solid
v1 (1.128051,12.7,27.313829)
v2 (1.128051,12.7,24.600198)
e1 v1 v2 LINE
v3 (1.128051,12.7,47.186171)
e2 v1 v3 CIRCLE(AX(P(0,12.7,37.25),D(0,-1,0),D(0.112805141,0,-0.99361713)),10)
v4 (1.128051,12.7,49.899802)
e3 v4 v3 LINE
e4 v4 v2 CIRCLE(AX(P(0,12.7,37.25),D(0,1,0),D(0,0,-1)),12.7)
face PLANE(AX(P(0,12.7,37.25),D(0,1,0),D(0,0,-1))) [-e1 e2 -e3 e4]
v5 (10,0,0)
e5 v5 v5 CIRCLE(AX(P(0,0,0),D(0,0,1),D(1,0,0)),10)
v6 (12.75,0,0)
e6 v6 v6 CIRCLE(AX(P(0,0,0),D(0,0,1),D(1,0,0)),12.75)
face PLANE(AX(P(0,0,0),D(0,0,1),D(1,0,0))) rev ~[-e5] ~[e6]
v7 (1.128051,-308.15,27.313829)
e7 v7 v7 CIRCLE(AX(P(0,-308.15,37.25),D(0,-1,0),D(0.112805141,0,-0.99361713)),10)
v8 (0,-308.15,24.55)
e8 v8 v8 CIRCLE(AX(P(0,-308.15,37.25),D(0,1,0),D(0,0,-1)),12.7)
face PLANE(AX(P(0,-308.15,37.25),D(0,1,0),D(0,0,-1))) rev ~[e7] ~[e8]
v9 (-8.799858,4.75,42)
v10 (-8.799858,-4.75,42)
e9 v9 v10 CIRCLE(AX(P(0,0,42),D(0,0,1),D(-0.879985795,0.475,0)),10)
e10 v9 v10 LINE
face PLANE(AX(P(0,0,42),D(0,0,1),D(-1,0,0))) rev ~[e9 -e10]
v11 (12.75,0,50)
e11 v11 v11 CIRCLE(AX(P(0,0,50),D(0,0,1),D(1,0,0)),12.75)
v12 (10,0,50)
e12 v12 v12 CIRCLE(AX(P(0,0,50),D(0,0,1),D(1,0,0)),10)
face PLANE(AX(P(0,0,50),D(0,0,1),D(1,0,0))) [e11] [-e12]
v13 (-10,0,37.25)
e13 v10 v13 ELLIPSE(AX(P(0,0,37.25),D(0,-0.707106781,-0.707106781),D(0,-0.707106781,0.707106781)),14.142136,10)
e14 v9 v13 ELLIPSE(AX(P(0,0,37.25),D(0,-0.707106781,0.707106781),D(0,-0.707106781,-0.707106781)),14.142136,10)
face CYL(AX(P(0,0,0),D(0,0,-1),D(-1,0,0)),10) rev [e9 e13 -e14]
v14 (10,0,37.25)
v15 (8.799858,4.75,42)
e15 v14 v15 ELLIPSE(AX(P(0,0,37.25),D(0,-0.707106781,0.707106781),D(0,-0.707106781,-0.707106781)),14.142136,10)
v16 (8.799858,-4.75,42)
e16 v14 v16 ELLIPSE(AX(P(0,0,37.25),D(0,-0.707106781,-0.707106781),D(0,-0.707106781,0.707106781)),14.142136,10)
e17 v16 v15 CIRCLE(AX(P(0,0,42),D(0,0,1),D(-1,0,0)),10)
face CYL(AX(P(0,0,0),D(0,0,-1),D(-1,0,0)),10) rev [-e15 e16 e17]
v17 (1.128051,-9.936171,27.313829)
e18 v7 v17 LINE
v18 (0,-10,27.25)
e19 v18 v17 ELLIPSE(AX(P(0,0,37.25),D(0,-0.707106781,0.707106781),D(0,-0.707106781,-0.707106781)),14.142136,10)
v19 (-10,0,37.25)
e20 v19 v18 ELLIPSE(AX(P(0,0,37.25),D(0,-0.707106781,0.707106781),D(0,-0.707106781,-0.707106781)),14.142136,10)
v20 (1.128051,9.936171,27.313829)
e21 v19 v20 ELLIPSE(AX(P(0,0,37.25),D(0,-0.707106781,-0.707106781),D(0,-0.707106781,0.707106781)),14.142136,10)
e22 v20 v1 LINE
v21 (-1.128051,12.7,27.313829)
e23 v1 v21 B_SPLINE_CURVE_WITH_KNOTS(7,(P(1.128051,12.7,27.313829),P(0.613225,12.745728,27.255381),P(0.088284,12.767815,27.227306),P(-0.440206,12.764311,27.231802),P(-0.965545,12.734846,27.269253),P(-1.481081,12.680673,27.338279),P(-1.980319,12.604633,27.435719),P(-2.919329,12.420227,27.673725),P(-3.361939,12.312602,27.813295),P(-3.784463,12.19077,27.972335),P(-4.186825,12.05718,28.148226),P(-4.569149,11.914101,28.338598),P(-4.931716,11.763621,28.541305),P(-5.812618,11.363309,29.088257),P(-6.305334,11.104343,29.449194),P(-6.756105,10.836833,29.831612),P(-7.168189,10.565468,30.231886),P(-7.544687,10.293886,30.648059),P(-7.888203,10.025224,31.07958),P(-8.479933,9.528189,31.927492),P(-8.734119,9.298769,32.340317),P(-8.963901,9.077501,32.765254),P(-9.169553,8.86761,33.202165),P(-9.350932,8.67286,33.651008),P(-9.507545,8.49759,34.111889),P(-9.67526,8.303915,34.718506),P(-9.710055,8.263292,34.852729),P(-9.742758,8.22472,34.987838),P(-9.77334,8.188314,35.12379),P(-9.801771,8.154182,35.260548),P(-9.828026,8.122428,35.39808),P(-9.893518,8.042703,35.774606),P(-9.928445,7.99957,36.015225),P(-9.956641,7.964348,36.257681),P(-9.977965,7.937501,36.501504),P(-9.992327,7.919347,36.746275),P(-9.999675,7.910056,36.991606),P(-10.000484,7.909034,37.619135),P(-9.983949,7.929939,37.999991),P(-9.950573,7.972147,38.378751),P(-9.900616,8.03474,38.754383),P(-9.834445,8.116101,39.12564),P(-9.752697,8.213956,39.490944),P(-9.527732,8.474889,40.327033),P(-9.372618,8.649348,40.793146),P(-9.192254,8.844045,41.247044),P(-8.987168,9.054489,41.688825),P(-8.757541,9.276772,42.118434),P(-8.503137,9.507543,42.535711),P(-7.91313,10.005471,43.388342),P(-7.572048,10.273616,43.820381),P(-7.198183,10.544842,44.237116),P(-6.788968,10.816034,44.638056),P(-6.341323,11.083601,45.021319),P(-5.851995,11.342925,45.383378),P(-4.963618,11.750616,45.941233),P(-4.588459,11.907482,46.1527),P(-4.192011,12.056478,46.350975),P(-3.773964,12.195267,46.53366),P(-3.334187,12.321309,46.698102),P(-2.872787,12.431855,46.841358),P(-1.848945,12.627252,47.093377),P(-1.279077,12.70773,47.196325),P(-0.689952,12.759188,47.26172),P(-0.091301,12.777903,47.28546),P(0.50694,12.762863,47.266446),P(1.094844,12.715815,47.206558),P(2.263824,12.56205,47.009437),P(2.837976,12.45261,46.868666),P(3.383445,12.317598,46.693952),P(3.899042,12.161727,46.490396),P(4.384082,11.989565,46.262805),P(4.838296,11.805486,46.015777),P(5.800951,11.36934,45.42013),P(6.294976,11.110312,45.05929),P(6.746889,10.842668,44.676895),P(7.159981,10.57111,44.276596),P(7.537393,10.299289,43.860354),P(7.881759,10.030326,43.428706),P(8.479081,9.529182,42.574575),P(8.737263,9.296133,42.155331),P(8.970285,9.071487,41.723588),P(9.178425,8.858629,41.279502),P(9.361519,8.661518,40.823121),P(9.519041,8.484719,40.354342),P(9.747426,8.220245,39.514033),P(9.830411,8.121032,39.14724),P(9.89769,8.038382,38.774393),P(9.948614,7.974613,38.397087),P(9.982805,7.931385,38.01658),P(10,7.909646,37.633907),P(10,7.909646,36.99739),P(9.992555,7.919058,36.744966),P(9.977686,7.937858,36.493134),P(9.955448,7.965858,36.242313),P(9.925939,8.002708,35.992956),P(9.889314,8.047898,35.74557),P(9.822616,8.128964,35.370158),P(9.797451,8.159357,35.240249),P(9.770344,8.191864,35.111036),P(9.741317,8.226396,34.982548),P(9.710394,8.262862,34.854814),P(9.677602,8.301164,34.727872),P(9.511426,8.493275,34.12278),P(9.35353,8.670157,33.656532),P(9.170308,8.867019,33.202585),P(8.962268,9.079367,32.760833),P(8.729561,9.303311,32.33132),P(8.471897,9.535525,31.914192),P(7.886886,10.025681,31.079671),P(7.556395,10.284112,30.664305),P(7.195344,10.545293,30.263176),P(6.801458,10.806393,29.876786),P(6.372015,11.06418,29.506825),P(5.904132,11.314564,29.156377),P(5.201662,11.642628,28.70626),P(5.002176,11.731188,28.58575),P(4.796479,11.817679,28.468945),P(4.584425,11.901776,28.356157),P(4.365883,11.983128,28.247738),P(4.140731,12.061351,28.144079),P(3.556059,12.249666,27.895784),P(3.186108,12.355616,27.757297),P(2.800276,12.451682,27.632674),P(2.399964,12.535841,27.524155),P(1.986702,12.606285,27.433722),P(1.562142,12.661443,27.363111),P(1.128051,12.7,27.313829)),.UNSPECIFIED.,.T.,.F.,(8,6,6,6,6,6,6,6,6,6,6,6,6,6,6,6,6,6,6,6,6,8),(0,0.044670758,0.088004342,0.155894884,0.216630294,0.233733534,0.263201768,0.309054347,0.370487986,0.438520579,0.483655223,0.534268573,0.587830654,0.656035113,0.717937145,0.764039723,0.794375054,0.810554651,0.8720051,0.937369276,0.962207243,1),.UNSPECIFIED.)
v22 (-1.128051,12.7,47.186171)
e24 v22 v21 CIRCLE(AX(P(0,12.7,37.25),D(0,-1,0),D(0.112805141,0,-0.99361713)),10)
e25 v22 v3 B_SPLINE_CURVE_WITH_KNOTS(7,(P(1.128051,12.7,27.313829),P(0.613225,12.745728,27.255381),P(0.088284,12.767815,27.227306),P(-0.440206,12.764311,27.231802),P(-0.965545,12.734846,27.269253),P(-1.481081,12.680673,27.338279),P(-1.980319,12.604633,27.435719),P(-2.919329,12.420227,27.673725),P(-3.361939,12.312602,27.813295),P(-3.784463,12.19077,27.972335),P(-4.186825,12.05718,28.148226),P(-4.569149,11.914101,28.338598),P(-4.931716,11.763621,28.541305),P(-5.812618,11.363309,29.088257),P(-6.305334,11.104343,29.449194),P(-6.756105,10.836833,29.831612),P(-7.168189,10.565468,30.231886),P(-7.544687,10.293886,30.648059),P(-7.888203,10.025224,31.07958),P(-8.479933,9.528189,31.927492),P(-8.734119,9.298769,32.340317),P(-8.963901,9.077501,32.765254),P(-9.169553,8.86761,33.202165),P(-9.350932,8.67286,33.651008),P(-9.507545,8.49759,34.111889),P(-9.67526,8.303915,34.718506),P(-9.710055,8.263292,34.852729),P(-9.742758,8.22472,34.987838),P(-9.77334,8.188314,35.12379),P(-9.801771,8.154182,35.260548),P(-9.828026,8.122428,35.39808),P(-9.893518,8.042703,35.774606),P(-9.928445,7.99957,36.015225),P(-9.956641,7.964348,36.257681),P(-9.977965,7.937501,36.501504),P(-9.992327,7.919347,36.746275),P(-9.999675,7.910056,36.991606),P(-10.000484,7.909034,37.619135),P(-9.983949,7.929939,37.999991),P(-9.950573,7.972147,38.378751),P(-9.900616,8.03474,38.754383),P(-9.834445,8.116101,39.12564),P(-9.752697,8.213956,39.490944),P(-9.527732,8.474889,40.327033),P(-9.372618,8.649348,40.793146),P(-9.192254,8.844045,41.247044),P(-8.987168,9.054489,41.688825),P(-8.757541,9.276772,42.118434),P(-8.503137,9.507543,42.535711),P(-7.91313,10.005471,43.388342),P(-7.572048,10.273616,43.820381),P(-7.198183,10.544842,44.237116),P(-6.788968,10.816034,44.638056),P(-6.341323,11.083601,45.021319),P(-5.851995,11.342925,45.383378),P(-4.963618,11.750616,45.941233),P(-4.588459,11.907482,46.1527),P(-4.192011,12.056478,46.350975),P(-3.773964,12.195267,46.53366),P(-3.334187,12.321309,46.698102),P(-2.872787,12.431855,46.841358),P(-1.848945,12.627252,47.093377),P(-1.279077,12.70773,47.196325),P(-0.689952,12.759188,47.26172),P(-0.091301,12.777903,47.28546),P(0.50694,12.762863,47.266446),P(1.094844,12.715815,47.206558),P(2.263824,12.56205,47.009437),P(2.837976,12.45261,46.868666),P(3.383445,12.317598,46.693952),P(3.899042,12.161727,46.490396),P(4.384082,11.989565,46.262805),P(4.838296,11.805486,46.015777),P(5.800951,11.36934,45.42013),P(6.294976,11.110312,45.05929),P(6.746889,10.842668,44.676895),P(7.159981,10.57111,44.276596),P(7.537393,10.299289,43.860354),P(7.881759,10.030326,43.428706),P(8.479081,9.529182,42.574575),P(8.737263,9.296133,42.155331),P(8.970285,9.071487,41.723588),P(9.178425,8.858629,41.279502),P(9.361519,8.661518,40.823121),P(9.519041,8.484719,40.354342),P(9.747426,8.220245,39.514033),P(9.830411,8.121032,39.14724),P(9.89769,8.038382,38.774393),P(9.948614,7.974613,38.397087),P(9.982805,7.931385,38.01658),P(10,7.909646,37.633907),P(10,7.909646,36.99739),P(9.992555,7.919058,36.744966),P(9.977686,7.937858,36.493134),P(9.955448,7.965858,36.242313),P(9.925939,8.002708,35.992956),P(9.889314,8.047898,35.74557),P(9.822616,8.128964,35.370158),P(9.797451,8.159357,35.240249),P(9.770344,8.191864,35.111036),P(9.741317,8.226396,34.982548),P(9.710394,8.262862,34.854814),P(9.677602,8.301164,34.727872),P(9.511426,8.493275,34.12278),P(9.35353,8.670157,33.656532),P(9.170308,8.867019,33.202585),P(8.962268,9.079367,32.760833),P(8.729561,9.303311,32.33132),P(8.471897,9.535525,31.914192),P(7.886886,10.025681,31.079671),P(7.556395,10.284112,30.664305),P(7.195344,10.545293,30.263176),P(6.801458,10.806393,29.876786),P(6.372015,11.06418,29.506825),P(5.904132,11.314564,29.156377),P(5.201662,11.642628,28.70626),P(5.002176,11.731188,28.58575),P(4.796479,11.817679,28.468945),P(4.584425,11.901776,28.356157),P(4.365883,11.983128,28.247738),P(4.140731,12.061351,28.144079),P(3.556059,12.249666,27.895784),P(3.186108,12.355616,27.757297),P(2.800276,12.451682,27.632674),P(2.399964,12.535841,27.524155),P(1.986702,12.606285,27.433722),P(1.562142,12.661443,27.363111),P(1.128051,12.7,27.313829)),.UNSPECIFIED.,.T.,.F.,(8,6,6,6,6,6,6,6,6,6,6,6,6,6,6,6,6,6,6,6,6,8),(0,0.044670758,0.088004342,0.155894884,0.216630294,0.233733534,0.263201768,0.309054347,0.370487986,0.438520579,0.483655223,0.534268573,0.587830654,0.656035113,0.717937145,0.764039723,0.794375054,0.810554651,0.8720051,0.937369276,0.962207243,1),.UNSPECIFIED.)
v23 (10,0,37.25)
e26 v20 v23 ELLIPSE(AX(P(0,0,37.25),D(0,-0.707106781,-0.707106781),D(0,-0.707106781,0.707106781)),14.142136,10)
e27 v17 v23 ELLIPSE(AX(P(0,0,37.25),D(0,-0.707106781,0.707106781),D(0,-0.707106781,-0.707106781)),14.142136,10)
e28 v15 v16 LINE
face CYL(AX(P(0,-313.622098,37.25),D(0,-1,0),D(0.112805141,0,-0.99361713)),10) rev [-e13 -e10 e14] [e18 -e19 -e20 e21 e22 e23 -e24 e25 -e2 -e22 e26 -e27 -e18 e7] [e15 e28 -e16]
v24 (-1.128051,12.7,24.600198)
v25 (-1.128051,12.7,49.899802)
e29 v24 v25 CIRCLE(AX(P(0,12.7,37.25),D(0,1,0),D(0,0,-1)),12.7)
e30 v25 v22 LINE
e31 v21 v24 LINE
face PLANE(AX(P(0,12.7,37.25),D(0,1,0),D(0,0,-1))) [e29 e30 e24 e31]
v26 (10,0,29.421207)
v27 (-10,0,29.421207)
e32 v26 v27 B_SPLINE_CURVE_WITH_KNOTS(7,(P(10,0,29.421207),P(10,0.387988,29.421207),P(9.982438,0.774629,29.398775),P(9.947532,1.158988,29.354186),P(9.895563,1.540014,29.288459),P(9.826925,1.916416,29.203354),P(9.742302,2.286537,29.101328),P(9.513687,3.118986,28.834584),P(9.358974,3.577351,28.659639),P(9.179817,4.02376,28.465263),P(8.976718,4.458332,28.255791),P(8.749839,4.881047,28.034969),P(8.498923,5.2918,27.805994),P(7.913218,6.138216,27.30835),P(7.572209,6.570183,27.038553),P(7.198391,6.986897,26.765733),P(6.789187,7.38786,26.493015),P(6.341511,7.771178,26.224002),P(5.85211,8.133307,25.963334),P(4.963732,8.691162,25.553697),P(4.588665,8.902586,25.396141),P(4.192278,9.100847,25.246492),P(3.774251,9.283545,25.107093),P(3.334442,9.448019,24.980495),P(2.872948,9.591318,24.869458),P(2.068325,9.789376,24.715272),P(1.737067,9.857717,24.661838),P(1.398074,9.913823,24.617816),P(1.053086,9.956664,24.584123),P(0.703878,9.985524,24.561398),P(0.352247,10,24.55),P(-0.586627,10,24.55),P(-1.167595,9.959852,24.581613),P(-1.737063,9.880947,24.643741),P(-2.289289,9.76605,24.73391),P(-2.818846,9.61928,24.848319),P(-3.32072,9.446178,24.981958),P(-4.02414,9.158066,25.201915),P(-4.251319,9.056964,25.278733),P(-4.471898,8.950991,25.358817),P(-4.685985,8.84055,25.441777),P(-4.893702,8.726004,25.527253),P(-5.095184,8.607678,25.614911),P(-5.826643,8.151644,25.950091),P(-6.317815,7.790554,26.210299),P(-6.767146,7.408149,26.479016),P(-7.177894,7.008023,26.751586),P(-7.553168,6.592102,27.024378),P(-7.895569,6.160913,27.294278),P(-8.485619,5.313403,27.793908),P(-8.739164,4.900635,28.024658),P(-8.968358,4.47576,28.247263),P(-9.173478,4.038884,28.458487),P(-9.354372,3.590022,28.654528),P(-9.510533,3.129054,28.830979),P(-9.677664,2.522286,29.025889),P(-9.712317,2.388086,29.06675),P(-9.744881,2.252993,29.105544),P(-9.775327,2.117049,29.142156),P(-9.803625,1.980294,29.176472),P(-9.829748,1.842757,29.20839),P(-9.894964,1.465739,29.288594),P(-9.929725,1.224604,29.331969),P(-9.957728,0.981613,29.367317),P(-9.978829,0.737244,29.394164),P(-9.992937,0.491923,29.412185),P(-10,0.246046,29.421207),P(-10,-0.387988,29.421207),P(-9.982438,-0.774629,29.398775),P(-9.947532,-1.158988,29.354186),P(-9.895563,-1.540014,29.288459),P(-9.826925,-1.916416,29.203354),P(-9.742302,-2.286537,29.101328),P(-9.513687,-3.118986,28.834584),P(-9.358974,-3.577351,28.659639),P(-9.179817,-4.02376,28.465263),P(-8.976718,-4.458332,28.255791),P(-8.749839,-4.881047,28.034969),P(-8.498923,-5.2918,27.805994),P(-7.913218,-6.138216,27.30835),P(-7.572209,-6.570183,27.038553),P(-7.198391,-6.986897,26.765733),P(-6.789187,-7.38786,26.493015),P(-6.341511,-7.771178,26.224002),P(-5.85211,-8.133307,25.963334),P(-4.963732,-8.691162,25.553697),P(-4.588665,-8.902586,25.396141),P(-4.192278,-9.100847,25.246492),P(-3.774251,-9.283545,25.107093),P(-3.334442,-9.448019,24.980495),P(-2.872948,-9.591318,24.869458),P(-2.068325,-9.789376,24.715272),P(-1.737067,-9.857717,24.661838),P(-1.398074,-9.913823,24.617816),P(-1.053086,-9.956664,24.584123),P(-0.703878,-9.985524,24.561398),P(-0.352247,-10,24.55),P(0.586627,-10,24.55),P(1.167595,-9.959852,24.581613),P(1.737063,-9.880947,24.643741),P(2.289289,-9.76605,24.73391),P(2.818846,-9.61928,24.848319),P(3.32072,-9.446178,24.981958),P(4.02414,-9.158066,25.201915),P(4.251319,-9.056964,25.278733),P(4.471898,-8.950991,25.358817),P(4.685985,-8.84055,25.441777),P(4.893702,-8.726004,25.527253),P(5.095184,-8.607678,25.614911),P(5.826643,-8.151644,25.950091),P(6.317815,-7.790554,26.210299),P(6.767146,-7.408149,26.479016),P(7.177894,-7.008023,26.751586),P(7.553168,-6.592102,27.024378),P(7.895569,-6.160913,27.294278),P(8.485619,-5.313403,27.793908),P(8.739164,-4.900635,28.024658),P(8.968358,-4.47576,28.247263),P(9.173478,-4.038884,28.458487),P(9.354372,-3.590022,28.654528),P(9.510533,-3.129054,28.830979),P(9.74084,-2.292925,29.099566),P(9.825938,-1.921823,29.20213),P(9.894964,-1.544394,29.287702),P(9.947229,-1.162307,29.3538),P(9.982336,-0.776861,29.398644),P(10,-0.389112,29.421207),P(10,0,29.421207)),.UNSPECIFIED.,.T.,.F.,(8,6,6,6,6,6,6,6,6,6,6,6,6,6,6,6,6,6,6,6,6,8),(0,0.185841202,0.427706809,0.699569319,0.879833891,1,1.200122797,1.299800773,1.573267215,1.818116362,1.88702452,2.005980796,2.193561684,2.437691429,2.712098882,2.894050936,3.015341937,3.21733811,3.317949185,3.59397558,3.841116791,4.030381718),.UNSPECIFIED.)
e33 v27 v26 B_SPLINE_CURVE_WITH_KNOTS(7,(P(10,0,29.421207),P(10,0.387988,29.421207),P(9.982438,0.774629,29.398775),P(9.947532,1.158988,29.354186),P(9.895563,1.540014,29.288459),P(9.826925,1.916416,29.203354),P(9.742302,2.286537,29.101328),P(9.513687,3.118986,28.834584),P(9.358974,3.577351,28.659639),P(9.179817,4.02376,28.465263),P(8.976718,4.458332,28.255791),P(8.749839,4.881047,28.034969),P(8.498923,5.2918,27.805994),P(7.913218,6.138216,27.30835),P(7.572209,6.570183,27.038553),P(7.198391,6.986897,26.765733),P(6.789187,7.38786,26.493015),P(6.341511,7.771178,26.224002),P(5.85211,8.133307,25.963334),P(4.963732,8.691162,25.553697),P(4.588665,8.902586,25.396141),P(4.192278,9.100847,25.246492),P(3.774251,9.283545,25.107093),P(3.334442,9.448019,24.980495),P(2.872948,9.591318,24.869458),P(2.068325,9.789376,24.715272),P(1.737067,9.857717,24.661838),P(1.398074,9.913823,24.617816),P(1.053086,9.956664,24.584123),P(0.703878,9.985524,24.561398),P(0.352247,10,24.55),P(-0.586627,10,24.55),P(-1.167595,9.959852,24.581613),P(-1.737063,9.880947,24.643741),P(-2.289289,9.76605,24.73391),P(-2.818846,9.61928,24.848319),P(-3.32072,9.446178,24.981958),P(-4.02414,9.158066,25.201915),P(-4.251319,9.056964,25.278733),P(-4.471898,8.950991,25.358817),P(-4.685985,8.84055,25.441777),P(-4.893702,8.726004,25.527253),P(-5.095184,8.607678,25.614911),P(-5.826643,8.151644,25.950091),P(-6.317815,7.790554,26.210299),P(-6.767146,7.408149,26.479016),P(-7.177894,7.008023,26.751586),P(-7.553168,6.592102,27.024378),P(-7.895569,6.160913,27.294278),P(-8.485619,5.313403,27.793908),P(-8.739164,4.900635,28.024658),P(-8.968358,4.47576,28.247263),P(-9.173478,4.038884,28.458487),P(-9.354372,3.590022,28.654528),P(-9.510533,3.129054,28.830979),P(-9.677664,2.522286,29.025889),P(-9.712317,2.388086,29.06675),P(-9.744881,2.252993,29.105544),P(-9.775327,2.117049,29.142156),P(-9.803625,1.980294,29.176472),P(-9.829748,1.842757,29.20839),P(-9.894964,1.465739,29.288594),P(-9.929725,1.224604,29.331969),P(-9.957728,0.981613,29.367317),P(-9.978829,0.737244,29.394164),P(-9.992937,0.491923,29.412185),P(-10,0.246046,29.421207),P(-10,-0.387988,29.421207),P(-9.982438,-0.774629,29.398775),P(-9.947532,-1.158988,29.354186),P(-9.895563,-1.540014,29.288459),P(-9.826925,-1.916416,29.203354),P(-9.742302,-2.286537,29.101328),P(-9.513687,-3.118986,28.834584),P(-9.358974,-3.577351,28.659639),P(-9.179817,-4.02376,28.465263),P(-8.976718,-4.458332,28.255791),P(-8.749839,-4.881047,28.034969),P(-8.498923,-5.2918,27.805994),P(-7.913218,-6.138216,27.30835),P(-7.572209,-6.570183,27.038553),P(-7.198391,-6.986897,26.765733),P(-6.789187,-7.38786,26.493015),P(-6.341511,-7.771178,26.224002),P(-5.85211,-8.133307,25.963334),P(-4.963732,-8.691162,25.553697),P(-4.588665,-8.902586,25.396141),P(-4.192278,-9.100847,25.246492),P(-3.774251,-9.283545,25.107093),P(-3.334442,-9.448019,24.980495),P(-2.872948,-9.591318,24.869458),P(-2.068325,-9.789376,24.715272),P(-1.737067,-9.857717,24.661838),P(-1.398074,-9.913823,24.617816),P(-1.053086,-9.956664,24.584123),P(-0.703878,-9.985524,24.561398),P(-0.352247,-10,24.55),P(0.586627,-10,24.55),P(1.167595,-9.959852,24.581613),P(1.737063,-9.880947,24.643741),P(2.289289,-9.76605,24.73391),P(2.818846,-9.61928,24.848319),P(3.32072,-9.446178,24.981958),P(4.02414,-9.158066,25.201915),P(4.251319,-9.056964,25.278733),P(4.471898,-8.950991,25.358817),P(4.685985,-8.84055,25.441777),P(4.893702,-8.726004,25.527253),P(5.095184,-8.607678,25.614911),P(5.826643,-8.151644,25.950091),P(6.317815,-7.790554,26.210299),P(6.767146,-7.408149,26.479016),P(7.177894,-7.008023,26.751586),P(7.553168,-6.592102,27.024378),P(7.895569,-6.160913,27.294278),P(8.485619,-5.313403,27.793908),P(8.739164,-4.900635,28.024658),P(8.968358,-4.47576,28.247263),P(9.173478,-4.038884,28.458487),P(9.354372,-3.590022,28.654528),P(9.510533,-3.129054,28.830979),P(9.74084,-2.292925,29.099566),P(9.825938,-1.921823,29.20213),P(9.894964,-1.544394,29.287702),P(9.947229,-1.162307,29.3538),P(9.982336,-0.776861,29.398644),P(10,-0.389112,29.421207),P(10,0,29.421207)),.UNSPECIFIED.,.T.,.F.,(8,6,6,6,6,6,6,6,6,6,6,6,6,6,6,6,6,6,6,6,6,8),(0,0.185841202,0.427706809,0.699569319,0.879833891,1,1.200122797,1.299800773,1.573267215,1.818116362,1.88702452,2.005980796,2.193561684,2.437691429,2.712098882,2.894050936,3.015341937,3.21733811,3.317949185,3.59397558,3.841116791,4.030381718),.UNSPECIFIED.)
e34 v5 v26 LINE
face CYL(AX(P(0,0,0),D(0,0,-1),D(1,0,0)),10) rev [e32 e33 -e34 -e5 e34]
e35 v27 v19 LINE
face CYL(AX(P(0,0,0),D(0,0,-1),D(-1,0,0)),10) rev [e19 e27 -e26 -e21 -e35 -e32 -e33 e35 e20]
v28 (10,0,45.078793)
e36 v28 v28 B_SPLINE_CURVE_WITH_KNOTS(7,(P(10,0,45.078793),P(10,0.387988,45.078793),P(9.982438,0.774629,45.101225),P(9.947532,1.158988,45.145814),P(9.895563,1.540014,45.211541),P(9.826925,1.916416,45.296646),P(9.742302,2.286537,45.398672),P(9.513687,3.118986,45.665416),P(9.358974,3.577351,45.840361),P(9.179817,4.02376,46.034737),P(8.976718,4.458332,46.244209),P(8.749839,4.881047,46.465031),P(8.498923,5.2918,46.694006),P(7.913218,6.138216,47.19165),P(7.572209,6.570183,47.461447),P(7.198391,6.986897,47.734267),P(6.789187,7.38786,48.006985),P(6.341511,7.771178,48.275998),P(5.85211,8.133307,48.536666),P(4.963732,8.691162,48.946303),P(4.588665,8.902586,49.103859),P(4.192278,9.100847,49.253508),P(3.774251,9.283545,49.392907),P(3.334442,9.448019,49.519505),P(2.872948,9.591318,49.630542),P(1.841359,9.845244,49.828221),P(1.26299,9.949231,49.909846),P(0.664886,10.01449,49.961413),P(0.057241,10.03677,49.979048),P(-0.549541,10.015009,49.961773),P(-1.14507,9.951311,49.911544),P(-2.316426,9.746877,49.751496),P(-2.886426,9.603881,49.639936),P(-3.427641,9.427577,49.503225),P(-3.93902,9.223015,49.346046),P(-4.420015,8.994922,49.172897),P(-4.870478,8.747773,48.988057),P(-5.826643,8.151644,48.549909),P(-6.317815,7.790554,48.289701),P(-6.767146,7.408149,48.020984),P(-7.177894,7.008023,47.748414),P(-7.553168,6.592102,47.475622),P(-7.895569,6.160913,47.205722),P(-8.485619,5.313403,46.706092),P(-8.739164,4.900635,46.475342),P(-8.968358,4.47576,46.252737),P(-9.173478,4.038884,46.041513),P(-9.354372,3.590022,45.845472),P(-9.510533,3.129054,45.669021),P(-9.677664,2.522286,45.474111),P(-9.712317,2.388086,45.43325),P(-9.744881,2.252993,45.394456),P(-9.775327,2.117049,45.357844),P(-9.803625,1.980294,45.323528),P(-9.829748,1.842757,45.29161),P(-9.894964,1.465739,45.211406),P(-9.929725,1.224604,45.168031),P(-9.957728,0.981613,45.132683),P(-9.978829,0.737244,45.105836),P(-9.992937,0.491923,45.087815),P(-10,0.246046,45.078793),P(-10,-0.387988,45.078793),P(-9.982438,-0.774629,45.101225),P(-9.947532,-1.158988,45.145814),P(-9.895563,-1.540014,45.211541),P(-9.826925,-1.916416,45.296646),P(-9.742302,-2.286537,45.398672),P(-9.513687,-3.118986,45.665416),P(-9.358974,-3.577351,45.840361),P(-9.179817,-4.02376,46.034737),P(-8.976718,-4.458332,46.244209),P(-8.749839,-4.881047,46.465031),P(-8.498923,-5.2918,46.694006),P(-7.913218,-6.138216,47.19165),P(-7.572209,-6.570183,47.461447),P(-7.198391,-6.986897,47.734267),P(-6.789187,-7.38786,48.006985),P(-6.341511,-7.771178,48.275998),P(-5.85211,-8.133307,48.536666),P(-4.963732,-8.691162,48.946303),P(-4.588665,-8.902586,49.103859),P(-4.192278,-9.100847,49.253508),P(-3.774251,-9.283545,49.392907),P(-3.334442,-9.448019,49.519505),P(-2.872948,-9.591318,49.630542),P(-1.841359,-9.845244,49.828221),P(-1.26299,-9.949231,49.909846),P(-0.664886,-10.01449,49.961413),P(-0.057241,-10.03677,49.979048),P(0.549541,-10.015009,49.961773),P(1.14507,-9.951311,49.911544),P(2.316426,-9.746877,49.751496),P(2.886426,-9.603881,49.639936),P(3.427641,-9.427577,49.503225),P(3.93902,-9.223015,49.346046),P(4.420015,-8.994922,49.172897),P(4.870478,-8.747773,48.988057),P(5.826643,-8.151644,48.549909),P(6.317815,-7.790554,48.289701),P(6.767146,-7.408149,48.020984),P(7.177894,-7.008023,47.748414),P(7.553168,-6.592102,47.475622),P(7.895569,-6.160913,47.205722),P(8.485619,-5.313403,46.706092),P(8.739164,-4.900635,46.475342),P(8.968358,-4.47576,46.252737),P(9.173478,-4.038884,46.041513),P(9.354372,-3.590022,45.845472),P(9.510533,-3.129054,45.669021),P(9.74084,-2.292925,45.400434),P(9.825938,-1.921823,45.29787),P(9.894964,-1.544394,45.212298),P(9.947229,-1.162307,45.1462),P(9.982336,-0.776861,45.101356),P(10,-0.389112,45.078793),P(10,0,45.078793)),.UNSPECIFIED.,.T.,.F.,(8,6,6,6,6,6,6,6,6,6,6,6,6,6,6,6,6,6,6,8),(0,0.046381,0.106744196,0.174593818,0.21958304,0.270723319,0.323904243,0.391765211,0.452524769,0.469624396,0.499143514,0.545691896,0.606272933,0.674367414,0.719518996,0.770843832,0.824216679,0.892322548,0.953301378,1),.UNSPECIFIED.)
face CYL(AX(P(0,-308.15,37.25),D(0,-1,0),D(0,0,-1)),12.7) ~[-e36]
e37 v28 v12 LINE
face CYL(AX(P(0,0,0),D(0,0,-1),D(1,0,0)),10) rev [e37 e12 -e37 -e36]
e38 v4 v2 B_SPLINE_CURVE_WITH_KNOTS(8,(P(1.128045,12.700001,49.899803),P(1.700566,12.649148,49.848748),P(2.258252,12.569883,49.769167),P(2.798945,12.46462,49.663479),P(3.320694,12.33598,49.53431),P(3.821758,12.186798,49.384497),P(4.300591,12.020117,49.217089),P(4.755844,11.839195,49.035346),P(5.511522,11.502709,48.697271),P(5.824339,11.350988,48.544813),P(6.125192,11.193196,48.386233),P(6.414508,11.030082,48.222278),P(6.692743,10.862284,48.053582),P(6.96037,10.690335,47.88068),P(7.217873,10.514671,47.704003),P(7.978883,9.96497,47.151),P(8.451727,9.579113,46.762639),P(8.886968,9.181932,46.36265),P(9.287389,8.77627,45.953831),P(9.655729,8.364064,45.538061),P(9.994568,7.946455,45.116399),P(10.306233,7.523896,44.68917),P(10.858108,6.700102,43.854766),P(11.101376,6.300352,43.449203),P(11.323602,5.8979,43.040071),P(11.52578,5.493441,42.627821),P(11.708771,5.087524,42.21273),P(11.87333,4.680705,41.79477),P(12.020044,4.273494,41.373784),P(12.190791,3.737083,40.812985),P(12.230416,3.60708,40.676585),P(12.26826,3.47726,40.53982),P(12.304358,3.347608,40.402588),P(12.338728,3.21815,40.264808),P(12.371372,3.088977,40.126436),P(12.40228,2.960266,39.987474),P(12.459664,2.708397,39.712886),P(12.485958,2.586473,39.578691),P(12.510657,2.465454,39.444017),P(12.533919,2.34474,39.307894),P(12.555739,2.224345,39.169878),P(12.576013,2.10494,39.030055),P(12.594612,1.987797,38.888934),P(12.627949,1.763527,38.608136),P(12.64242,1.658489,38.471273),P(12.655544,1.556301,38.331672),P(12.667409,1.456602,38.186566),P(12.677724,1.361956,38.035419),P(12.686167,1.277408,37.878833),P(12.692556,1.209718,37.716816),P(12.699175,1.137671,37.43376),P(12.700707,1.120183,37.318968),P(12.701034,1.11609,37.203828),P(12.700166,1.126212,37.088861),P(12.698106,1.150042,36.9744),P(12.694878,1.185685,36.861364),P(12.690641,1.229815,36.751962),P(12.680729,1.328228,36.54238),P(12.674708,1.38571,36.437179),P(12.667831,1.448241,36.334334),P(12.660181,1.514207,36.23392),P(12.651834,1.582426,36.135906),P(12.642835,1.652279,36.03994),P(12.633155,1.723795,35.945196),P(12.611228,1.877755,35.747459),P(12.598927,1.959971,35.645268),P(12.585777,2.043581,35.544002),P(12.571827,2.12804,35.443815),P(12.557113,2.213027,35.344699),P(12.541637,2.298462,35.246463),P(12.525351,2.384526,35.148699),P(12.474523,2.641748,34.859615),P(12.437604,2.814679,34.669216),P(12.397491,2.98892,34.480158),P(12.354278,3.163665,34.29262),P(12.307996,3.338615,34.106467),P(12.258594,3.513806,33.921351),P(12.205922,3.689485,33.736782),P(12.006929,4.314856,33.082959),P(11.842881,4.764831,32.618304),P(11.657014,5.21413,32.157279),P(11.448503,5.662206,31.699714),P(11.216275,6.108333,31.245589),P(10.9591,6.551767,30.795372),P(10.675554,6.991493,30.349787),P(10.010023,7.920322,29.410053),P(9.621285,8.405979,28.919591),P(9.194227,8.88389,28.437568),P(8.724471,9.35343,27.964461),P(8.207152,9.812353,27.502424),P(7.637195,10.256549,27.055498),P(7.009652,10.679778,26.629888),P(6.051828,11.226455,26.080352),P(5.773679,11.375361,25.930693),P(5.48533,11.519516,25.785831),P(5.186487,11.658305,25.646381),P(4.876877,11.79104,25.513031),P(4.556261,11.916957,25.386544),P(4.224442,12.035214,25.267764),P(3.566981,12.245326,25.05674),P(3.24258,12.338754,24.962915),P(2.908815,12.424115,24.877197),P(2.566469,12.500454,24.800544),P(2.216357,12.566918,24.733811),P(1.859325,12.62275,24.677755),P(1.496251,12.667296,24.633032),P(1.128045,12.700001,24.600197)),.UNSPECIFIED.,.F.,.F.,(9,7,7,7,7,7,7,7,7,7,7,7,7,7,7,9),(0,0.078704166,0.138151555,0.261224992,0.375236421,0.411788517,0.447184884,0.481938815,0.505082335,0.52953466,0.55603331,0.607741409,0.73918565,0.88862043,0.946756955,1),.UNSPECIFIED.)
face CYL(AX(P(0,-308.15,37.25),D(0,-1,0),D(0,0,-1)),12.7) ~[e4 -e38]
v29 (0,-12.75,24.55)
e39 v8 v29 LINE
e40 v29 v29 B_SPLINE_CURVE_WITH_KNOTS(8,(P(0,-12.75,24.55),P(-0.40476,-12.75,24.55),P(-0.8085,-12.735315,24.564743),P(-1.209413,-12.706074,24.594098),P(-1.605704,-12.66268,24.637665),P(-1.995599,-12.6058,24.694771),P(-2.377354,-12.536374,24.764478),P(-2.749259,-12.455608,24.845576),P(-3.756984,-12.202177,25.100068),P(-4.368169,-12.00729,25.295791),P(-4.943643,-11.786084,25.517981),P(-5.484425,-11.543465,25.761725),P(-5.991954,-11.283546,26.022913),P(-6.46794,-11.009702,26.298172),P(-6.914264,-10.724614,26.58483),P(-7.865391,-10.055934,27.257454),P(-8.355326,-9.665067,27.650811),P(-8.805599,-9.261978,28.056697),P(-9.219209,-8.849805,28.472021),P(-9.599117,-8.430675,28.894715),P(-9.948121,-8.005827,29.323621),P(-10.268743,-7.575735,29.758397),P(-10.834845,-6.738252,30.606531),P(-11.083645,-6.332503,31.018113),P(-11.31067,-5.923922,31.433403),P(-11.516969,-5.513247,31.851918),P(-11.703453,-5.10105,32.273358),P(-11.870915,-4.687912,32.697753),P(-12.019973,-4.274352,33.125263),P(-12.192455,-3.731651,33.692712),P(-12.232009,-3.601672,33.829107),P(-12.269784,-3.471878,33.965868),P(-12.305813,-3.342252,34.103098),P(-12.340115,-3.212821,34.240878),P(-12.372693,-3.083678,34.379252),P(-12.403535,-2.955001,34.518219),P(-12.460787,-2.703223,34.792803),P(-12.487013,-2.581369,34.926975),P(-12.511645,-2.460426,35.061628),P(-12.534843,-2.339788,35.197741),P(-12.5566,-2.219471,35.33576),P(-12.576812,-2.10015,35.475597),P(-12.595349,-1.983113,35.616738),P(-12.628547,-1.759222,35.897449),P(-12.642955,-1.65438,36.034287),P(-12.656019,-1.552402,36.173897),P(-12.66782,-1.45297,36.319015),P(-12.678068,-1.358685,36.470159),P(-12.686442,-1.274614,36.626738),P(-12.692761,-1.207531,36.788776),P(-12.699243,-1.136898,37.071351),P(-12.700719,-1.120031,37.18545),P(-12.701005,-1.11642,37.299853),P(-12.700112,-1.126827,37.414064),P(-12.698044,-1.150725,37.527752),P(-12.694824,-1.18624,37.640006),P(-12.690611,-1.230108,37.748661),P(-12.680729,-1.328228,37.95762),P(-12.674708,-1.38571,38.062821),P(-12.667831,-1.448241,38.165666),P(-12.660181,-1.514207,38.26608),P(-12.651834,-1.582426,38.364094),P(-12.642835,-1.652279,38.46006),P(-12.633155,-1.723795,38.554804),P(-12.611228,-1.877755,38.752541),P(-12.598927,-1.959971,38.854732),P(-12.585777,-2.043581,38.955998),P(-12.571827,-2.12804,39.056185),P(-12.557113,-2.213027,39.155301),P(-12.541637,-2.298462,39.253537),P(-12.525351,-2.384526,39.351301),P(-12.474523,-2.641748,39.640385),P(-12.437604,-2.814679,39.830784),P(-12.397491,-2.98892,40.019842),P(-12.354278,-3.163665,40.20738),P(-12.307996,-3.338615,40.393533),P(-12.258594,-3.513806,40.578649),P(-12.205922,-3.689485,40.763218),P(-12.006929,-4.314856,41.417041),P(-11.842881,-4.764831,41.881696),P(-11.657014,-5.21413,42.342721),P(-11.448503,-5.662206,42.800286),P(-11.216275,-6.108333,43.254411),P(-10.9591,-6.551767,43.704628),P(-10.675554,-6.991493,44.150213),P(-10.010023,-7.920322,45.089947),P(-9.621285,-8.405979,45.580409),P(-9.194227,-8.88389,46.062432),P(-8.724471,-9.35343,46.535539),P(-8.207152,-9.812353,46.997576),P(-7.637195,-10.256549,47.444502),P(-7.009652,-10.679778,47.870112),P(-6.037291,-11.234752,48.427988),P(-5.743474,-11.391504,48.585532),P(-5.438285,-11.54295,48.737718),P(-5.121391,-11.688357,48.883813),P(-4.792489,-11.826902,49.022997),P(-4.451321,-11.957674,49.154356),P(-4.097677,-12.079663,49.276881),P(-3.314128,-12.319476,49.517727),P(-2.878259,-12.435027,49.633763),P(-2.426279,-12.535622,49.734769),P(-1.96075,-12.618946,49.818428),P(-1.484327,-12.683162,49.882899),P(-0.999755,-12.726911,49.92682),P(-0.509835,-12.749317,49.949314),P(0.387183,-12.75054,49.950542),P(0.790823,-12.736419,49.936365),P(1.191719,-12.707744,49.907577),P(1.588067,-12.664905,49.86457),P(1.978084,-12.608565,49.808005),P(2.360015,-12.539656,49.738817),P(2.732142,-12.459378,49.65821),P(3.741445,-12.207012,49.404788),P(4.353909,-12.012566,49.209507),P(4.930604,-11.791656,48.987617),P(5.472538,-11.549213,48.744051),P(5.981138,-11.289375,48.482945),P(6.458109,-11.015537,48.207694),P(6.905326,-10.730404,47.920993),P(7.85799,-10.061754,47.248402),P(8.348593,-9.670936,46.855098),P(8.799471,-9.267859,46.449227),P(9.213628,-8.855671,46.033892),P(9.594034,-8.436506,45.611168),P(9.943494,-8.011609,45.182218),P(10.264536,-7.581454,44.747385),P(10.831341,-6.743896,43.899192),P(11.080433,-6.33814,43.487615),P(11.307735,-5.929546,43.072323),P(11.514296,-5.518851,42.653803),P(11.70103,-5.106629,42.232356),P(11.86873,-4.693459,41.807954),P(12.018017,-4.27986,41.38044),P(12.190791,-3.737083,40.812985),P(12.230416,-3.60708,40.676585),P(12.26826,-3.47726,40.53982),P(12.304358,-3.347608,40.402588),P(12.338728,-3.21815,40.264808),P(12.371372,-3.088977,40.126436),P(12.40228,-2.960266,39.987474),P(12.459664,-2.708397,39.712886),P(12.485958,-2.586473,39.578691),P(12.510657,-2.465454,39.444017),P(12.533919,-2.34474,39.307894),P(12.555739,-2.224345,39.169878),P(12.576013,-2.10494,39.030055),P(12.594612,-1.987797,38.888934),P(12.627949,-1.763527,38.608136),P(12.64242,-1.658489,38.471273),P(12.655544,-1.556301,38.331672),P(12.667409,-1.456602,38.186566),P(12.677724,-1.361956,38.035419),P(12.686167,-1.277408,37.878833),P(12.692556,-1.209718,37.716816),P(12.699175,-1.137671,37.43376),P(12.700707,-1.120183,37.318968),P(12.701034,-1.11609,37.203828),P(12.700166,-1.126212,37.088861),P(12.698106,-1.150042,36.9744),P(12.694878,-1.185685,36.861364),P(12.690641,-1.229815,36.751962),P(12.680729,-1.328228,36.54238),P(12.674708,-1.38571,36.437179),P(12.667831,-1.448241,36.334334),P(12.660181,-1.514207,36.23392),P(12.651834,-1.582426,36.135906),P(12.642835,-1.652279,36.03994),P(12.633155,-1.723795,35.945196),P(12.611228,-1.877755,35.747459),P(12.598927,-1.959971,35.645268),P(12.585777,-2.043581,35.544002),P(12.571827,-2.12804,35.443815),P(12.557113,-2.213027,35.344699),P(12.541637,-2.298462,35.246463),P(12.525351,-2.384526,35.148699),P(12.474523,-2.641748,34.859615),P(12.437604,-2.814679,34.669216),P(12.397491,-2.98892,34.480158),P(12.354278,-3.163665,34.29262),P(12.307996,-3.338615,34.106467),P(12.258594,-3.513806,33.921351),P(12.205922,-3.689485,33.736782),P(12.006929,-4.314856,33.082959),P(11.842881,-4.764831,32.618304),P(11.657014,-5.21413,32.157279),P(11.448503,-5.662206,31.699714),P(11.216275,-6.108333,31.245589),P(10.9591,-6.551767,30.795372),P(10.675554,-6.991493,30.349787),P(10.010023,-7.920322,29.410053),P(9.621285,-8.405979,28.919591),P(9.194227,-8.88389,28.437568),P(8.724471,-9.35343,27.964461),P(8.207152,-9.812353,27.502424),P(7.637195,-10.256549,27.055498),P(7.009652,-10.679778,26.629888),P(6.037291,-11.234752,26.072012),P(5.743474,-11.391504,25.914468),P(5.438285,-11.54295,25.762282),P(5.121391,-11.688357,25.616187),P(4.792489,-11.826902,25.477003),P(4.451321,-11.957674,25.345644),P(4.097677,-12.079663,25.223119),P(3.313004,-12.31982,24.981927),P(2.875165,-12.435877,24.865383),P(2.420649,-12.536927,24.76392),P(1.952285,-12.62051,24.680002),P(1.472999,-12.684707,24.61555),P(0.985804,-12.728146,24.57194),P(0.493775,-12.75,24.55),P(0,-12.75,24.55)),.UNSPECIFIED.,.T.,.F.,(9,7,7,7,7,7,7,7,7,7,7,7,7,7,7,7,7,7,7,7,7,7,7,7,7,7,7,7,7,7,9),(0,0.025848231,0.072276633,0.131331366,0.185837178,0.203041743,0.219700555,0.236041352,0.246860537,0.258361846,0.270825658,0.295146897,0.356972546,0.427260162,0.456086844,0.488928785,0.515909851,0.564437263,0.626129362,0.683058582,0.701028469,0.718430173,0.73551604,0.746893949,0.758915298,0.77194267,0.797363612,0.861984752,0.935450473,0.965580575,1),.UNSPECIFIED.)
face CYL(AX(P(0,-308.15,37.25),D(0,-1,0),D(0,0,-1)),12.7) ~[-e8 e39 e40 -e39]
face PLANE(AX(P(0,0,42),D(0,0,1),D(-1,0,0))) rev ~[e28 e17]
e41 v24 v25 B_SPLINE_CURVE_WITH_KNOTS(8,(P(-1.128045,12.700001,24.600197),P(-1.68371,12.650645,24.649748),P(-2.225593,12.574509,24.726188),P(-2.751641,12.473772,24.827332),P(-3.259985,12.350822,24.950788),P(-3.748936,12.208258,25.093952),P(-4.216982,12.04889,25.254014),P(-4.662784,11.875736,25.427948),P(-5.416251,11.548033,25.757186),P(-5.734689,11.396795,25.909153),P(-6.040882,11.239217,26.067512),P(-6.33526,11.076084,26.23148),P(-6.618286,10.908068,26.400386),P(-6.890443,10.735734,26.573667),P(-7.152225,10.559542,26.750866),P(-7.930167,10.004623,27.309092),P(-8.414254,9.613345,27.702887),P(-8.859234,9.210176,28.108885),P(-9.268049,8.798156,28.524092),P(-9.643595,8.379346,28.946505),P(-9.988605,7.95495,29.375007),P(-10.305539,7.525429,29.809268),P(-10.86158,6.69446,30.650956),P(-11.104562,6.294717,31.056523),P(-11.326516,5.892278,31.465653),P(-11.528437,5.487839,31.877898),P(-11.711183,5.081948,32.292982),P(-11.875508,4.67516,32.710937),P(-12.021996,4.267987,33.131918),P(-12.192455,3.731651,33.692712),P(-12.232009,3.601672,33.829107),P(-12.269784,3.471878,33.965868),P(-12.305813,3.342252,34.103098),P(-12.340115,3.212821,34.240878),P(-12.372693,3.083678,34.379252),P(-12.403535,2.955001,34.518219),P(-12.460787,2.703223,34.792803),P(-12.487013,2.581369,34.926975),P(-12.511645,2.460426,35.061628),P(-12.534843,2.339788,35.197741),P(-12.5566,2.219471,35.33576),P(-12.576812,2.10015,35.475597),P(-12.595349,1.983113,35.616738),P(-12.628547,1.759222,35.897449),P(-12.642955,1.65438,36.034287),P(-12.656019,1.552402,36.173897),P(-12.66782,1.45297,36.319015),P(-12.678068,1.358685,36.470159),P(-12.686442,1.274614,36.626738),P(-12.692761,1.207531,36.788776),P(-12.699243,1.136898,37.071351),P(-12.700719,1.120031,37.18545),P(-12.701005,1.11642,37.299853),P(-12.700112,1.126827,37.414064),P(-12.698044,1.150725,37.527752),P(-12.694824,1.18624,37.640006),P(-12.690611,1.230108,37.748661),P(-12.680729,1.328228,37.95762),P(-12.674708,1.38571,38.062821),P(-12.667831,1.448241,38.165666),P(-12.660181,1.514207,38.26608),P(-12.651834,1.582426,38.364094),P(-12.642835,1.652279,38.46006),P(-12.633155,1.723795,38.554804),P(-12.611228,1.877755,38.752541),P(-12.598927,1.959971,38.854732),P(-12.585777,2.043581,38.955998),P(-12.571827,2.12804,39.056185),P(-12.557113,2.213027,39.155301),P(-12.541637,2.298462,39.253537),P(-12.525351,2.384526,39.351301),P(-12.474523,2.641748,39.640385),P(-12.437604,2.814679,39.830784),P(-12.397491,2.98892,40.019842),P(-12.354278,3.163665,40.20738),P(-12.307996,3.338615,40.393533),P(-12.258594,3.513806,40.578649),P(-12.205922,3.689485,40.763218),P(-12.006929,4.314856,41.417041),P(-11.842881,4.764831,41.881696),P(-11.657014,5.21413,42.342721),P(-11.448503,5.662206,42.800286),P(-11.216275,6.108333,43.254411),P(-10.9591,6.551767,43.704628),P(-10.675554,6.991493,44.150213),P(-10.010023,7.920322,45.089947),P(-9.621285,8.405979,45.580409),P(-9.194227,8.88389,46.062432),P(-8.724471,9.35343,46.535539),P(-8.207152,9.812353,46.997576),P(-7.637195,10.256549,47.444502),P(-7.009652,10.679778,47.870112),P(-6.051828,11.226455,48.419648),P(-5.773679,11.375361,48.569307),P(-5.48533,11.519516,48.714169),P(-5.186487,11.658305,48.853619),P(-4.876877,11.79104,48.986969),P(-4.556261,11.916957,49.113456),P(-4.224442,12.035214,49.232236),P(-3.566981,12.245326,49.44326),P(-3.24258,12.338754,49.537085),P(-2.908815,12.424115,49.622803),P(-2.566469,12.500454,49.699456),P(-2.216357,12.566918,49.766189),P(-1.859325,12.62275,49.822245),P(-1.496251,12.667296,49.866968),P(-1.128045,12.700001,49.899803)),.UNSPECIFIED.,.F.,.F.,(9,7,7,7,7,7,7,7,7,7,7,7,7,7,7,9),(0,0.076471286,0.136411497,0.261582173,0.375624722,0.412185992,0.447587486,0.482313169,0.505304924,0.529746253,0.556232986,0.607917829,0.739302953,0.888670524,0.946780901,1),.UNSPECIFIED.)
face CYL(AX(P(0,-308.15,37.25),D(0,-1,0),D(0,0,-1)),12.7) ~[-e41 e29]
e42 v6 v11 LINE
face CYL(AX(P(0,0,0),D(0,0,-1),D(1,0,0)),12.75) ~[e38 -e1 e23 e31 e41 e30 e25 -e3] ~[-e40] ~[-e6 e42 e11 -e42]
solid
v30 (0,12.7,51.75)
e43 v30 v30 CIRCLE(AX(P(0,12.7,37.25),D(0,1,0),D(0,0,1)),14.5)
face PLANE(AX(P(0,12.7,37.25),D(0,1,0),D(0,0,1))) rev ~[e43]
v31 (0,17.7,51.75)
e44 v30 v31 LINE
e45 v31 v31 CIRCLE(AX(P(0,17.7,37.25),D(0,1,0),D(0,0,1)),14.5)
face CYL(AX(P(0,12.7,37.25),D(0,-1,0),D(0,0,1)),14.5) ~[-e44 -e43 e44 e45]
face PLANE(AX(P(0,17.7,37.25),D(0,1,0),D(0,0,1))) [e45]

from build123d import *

# Parameters (mm, degrees)
CROQUIS1_R                   = 12.75
CROQUIS1_R_2                 = 10
SALIENTE_EXTRUIR1_DEPTH      = 50
SALIENTE_EXTRUIR2_DEPTH      = 25.4
SALIENTE_EXTRUIR2_DEPTH_BACK = 295.45
CROQUIS2_R                   = 12.7
CORTAR_EXTRUIR1_DEPTH        = 300.922098338
CORTAR_EXTRUIR1_DEPTH_BACK   = 300.922098338
CROQUIS3_R                   = 10
CROQUIS4_R                   = 10
CORTAR_EXTRUIR2_DEPTH        = 42
CROQUIS5_R                   = 14.5
SALIENTE_EXTRUIR4_DEPTH      = 5


with BuildPart() as part:
    # Croquis1 → Saliente-Extruir1 (new body)
    with BuildSketch(Plane.XY):
        Circle(CROQUIS1_R)
        Circle(CROQUIS1_R_2, mode=Mode.SUBTRACT)
    extrude(amount=SALIENTE_EXTRUIR1_DEPTH)

    # Croquis2 → Saliente-Extruir2 (add, two sides: drawn at the far end of the back side and taken through both)
    with BuildSketch(Plane(origin=(0, -12.7, 0), x_dir=(1, 0, 0), z_dir=(0, 1, 0)).offset(-SALIENTE_EXTRUIR2_DEPTH_BACK)):
        with Locations(Location((0, -37.25, 0), (0, 0, 90))):
            Circle(CROQUIS2_R)
    extrude(amount=SALIENTE_EXTRUIR2_DEPTH + SALIENTE_EXTRUIR2_DEPTH_BACK)

    # Croquis3 → Cortar-Extruir1 (cut, two sides: drawn at the far end of the back side and taken through both)
    with BuildSketch(Plane(origin=(0, -12.7, 0), x_dir=(1, 0, 0), z_dir=(0, 1, 0)).offset(-CORTAR_EXTRUIR1_DEPTH_BACK)):
        with Locations(Location((0, -37.25, 0), (0, 0, 83.522954936))):
            Circle(CROQUIS3_R)
    extrude(amount=CORTAR_EXTRUIR1_DEPTH + CORTAR_EXTRUIR1_DEPTH_BACK, mode=Mode.SUBTRACT)

    # Croquis4 → Cortar-Extruir2 (cut)
    with BuildSketch(Plane.XY):
        with Locations(Location((0, 0, 0), (0, 0, 180))):
            Circle(CROQUIS4_R)
    extrude(amount=CORTAR_EXTRUIR2_DEPTH, mode=Mode.SUBTRACT)


with BuildPart() as body_2:
    # Croquis5 → Saliente-Extruir4 (new body)
    with BuildSketch(Plane(origin=(0, 12.7, 0), x_dir=(1, 0, 0), z_dir=(0, 1, 0))):
        with Locations(Location((0, -37.25, 0), (0, 0, 270))):
            Circle(CROQUIS5_R)
    extrude(amount=SALIENTE_EXTRUIR4_DEPTH)


solid = Compound([part.part, body_2.part])
